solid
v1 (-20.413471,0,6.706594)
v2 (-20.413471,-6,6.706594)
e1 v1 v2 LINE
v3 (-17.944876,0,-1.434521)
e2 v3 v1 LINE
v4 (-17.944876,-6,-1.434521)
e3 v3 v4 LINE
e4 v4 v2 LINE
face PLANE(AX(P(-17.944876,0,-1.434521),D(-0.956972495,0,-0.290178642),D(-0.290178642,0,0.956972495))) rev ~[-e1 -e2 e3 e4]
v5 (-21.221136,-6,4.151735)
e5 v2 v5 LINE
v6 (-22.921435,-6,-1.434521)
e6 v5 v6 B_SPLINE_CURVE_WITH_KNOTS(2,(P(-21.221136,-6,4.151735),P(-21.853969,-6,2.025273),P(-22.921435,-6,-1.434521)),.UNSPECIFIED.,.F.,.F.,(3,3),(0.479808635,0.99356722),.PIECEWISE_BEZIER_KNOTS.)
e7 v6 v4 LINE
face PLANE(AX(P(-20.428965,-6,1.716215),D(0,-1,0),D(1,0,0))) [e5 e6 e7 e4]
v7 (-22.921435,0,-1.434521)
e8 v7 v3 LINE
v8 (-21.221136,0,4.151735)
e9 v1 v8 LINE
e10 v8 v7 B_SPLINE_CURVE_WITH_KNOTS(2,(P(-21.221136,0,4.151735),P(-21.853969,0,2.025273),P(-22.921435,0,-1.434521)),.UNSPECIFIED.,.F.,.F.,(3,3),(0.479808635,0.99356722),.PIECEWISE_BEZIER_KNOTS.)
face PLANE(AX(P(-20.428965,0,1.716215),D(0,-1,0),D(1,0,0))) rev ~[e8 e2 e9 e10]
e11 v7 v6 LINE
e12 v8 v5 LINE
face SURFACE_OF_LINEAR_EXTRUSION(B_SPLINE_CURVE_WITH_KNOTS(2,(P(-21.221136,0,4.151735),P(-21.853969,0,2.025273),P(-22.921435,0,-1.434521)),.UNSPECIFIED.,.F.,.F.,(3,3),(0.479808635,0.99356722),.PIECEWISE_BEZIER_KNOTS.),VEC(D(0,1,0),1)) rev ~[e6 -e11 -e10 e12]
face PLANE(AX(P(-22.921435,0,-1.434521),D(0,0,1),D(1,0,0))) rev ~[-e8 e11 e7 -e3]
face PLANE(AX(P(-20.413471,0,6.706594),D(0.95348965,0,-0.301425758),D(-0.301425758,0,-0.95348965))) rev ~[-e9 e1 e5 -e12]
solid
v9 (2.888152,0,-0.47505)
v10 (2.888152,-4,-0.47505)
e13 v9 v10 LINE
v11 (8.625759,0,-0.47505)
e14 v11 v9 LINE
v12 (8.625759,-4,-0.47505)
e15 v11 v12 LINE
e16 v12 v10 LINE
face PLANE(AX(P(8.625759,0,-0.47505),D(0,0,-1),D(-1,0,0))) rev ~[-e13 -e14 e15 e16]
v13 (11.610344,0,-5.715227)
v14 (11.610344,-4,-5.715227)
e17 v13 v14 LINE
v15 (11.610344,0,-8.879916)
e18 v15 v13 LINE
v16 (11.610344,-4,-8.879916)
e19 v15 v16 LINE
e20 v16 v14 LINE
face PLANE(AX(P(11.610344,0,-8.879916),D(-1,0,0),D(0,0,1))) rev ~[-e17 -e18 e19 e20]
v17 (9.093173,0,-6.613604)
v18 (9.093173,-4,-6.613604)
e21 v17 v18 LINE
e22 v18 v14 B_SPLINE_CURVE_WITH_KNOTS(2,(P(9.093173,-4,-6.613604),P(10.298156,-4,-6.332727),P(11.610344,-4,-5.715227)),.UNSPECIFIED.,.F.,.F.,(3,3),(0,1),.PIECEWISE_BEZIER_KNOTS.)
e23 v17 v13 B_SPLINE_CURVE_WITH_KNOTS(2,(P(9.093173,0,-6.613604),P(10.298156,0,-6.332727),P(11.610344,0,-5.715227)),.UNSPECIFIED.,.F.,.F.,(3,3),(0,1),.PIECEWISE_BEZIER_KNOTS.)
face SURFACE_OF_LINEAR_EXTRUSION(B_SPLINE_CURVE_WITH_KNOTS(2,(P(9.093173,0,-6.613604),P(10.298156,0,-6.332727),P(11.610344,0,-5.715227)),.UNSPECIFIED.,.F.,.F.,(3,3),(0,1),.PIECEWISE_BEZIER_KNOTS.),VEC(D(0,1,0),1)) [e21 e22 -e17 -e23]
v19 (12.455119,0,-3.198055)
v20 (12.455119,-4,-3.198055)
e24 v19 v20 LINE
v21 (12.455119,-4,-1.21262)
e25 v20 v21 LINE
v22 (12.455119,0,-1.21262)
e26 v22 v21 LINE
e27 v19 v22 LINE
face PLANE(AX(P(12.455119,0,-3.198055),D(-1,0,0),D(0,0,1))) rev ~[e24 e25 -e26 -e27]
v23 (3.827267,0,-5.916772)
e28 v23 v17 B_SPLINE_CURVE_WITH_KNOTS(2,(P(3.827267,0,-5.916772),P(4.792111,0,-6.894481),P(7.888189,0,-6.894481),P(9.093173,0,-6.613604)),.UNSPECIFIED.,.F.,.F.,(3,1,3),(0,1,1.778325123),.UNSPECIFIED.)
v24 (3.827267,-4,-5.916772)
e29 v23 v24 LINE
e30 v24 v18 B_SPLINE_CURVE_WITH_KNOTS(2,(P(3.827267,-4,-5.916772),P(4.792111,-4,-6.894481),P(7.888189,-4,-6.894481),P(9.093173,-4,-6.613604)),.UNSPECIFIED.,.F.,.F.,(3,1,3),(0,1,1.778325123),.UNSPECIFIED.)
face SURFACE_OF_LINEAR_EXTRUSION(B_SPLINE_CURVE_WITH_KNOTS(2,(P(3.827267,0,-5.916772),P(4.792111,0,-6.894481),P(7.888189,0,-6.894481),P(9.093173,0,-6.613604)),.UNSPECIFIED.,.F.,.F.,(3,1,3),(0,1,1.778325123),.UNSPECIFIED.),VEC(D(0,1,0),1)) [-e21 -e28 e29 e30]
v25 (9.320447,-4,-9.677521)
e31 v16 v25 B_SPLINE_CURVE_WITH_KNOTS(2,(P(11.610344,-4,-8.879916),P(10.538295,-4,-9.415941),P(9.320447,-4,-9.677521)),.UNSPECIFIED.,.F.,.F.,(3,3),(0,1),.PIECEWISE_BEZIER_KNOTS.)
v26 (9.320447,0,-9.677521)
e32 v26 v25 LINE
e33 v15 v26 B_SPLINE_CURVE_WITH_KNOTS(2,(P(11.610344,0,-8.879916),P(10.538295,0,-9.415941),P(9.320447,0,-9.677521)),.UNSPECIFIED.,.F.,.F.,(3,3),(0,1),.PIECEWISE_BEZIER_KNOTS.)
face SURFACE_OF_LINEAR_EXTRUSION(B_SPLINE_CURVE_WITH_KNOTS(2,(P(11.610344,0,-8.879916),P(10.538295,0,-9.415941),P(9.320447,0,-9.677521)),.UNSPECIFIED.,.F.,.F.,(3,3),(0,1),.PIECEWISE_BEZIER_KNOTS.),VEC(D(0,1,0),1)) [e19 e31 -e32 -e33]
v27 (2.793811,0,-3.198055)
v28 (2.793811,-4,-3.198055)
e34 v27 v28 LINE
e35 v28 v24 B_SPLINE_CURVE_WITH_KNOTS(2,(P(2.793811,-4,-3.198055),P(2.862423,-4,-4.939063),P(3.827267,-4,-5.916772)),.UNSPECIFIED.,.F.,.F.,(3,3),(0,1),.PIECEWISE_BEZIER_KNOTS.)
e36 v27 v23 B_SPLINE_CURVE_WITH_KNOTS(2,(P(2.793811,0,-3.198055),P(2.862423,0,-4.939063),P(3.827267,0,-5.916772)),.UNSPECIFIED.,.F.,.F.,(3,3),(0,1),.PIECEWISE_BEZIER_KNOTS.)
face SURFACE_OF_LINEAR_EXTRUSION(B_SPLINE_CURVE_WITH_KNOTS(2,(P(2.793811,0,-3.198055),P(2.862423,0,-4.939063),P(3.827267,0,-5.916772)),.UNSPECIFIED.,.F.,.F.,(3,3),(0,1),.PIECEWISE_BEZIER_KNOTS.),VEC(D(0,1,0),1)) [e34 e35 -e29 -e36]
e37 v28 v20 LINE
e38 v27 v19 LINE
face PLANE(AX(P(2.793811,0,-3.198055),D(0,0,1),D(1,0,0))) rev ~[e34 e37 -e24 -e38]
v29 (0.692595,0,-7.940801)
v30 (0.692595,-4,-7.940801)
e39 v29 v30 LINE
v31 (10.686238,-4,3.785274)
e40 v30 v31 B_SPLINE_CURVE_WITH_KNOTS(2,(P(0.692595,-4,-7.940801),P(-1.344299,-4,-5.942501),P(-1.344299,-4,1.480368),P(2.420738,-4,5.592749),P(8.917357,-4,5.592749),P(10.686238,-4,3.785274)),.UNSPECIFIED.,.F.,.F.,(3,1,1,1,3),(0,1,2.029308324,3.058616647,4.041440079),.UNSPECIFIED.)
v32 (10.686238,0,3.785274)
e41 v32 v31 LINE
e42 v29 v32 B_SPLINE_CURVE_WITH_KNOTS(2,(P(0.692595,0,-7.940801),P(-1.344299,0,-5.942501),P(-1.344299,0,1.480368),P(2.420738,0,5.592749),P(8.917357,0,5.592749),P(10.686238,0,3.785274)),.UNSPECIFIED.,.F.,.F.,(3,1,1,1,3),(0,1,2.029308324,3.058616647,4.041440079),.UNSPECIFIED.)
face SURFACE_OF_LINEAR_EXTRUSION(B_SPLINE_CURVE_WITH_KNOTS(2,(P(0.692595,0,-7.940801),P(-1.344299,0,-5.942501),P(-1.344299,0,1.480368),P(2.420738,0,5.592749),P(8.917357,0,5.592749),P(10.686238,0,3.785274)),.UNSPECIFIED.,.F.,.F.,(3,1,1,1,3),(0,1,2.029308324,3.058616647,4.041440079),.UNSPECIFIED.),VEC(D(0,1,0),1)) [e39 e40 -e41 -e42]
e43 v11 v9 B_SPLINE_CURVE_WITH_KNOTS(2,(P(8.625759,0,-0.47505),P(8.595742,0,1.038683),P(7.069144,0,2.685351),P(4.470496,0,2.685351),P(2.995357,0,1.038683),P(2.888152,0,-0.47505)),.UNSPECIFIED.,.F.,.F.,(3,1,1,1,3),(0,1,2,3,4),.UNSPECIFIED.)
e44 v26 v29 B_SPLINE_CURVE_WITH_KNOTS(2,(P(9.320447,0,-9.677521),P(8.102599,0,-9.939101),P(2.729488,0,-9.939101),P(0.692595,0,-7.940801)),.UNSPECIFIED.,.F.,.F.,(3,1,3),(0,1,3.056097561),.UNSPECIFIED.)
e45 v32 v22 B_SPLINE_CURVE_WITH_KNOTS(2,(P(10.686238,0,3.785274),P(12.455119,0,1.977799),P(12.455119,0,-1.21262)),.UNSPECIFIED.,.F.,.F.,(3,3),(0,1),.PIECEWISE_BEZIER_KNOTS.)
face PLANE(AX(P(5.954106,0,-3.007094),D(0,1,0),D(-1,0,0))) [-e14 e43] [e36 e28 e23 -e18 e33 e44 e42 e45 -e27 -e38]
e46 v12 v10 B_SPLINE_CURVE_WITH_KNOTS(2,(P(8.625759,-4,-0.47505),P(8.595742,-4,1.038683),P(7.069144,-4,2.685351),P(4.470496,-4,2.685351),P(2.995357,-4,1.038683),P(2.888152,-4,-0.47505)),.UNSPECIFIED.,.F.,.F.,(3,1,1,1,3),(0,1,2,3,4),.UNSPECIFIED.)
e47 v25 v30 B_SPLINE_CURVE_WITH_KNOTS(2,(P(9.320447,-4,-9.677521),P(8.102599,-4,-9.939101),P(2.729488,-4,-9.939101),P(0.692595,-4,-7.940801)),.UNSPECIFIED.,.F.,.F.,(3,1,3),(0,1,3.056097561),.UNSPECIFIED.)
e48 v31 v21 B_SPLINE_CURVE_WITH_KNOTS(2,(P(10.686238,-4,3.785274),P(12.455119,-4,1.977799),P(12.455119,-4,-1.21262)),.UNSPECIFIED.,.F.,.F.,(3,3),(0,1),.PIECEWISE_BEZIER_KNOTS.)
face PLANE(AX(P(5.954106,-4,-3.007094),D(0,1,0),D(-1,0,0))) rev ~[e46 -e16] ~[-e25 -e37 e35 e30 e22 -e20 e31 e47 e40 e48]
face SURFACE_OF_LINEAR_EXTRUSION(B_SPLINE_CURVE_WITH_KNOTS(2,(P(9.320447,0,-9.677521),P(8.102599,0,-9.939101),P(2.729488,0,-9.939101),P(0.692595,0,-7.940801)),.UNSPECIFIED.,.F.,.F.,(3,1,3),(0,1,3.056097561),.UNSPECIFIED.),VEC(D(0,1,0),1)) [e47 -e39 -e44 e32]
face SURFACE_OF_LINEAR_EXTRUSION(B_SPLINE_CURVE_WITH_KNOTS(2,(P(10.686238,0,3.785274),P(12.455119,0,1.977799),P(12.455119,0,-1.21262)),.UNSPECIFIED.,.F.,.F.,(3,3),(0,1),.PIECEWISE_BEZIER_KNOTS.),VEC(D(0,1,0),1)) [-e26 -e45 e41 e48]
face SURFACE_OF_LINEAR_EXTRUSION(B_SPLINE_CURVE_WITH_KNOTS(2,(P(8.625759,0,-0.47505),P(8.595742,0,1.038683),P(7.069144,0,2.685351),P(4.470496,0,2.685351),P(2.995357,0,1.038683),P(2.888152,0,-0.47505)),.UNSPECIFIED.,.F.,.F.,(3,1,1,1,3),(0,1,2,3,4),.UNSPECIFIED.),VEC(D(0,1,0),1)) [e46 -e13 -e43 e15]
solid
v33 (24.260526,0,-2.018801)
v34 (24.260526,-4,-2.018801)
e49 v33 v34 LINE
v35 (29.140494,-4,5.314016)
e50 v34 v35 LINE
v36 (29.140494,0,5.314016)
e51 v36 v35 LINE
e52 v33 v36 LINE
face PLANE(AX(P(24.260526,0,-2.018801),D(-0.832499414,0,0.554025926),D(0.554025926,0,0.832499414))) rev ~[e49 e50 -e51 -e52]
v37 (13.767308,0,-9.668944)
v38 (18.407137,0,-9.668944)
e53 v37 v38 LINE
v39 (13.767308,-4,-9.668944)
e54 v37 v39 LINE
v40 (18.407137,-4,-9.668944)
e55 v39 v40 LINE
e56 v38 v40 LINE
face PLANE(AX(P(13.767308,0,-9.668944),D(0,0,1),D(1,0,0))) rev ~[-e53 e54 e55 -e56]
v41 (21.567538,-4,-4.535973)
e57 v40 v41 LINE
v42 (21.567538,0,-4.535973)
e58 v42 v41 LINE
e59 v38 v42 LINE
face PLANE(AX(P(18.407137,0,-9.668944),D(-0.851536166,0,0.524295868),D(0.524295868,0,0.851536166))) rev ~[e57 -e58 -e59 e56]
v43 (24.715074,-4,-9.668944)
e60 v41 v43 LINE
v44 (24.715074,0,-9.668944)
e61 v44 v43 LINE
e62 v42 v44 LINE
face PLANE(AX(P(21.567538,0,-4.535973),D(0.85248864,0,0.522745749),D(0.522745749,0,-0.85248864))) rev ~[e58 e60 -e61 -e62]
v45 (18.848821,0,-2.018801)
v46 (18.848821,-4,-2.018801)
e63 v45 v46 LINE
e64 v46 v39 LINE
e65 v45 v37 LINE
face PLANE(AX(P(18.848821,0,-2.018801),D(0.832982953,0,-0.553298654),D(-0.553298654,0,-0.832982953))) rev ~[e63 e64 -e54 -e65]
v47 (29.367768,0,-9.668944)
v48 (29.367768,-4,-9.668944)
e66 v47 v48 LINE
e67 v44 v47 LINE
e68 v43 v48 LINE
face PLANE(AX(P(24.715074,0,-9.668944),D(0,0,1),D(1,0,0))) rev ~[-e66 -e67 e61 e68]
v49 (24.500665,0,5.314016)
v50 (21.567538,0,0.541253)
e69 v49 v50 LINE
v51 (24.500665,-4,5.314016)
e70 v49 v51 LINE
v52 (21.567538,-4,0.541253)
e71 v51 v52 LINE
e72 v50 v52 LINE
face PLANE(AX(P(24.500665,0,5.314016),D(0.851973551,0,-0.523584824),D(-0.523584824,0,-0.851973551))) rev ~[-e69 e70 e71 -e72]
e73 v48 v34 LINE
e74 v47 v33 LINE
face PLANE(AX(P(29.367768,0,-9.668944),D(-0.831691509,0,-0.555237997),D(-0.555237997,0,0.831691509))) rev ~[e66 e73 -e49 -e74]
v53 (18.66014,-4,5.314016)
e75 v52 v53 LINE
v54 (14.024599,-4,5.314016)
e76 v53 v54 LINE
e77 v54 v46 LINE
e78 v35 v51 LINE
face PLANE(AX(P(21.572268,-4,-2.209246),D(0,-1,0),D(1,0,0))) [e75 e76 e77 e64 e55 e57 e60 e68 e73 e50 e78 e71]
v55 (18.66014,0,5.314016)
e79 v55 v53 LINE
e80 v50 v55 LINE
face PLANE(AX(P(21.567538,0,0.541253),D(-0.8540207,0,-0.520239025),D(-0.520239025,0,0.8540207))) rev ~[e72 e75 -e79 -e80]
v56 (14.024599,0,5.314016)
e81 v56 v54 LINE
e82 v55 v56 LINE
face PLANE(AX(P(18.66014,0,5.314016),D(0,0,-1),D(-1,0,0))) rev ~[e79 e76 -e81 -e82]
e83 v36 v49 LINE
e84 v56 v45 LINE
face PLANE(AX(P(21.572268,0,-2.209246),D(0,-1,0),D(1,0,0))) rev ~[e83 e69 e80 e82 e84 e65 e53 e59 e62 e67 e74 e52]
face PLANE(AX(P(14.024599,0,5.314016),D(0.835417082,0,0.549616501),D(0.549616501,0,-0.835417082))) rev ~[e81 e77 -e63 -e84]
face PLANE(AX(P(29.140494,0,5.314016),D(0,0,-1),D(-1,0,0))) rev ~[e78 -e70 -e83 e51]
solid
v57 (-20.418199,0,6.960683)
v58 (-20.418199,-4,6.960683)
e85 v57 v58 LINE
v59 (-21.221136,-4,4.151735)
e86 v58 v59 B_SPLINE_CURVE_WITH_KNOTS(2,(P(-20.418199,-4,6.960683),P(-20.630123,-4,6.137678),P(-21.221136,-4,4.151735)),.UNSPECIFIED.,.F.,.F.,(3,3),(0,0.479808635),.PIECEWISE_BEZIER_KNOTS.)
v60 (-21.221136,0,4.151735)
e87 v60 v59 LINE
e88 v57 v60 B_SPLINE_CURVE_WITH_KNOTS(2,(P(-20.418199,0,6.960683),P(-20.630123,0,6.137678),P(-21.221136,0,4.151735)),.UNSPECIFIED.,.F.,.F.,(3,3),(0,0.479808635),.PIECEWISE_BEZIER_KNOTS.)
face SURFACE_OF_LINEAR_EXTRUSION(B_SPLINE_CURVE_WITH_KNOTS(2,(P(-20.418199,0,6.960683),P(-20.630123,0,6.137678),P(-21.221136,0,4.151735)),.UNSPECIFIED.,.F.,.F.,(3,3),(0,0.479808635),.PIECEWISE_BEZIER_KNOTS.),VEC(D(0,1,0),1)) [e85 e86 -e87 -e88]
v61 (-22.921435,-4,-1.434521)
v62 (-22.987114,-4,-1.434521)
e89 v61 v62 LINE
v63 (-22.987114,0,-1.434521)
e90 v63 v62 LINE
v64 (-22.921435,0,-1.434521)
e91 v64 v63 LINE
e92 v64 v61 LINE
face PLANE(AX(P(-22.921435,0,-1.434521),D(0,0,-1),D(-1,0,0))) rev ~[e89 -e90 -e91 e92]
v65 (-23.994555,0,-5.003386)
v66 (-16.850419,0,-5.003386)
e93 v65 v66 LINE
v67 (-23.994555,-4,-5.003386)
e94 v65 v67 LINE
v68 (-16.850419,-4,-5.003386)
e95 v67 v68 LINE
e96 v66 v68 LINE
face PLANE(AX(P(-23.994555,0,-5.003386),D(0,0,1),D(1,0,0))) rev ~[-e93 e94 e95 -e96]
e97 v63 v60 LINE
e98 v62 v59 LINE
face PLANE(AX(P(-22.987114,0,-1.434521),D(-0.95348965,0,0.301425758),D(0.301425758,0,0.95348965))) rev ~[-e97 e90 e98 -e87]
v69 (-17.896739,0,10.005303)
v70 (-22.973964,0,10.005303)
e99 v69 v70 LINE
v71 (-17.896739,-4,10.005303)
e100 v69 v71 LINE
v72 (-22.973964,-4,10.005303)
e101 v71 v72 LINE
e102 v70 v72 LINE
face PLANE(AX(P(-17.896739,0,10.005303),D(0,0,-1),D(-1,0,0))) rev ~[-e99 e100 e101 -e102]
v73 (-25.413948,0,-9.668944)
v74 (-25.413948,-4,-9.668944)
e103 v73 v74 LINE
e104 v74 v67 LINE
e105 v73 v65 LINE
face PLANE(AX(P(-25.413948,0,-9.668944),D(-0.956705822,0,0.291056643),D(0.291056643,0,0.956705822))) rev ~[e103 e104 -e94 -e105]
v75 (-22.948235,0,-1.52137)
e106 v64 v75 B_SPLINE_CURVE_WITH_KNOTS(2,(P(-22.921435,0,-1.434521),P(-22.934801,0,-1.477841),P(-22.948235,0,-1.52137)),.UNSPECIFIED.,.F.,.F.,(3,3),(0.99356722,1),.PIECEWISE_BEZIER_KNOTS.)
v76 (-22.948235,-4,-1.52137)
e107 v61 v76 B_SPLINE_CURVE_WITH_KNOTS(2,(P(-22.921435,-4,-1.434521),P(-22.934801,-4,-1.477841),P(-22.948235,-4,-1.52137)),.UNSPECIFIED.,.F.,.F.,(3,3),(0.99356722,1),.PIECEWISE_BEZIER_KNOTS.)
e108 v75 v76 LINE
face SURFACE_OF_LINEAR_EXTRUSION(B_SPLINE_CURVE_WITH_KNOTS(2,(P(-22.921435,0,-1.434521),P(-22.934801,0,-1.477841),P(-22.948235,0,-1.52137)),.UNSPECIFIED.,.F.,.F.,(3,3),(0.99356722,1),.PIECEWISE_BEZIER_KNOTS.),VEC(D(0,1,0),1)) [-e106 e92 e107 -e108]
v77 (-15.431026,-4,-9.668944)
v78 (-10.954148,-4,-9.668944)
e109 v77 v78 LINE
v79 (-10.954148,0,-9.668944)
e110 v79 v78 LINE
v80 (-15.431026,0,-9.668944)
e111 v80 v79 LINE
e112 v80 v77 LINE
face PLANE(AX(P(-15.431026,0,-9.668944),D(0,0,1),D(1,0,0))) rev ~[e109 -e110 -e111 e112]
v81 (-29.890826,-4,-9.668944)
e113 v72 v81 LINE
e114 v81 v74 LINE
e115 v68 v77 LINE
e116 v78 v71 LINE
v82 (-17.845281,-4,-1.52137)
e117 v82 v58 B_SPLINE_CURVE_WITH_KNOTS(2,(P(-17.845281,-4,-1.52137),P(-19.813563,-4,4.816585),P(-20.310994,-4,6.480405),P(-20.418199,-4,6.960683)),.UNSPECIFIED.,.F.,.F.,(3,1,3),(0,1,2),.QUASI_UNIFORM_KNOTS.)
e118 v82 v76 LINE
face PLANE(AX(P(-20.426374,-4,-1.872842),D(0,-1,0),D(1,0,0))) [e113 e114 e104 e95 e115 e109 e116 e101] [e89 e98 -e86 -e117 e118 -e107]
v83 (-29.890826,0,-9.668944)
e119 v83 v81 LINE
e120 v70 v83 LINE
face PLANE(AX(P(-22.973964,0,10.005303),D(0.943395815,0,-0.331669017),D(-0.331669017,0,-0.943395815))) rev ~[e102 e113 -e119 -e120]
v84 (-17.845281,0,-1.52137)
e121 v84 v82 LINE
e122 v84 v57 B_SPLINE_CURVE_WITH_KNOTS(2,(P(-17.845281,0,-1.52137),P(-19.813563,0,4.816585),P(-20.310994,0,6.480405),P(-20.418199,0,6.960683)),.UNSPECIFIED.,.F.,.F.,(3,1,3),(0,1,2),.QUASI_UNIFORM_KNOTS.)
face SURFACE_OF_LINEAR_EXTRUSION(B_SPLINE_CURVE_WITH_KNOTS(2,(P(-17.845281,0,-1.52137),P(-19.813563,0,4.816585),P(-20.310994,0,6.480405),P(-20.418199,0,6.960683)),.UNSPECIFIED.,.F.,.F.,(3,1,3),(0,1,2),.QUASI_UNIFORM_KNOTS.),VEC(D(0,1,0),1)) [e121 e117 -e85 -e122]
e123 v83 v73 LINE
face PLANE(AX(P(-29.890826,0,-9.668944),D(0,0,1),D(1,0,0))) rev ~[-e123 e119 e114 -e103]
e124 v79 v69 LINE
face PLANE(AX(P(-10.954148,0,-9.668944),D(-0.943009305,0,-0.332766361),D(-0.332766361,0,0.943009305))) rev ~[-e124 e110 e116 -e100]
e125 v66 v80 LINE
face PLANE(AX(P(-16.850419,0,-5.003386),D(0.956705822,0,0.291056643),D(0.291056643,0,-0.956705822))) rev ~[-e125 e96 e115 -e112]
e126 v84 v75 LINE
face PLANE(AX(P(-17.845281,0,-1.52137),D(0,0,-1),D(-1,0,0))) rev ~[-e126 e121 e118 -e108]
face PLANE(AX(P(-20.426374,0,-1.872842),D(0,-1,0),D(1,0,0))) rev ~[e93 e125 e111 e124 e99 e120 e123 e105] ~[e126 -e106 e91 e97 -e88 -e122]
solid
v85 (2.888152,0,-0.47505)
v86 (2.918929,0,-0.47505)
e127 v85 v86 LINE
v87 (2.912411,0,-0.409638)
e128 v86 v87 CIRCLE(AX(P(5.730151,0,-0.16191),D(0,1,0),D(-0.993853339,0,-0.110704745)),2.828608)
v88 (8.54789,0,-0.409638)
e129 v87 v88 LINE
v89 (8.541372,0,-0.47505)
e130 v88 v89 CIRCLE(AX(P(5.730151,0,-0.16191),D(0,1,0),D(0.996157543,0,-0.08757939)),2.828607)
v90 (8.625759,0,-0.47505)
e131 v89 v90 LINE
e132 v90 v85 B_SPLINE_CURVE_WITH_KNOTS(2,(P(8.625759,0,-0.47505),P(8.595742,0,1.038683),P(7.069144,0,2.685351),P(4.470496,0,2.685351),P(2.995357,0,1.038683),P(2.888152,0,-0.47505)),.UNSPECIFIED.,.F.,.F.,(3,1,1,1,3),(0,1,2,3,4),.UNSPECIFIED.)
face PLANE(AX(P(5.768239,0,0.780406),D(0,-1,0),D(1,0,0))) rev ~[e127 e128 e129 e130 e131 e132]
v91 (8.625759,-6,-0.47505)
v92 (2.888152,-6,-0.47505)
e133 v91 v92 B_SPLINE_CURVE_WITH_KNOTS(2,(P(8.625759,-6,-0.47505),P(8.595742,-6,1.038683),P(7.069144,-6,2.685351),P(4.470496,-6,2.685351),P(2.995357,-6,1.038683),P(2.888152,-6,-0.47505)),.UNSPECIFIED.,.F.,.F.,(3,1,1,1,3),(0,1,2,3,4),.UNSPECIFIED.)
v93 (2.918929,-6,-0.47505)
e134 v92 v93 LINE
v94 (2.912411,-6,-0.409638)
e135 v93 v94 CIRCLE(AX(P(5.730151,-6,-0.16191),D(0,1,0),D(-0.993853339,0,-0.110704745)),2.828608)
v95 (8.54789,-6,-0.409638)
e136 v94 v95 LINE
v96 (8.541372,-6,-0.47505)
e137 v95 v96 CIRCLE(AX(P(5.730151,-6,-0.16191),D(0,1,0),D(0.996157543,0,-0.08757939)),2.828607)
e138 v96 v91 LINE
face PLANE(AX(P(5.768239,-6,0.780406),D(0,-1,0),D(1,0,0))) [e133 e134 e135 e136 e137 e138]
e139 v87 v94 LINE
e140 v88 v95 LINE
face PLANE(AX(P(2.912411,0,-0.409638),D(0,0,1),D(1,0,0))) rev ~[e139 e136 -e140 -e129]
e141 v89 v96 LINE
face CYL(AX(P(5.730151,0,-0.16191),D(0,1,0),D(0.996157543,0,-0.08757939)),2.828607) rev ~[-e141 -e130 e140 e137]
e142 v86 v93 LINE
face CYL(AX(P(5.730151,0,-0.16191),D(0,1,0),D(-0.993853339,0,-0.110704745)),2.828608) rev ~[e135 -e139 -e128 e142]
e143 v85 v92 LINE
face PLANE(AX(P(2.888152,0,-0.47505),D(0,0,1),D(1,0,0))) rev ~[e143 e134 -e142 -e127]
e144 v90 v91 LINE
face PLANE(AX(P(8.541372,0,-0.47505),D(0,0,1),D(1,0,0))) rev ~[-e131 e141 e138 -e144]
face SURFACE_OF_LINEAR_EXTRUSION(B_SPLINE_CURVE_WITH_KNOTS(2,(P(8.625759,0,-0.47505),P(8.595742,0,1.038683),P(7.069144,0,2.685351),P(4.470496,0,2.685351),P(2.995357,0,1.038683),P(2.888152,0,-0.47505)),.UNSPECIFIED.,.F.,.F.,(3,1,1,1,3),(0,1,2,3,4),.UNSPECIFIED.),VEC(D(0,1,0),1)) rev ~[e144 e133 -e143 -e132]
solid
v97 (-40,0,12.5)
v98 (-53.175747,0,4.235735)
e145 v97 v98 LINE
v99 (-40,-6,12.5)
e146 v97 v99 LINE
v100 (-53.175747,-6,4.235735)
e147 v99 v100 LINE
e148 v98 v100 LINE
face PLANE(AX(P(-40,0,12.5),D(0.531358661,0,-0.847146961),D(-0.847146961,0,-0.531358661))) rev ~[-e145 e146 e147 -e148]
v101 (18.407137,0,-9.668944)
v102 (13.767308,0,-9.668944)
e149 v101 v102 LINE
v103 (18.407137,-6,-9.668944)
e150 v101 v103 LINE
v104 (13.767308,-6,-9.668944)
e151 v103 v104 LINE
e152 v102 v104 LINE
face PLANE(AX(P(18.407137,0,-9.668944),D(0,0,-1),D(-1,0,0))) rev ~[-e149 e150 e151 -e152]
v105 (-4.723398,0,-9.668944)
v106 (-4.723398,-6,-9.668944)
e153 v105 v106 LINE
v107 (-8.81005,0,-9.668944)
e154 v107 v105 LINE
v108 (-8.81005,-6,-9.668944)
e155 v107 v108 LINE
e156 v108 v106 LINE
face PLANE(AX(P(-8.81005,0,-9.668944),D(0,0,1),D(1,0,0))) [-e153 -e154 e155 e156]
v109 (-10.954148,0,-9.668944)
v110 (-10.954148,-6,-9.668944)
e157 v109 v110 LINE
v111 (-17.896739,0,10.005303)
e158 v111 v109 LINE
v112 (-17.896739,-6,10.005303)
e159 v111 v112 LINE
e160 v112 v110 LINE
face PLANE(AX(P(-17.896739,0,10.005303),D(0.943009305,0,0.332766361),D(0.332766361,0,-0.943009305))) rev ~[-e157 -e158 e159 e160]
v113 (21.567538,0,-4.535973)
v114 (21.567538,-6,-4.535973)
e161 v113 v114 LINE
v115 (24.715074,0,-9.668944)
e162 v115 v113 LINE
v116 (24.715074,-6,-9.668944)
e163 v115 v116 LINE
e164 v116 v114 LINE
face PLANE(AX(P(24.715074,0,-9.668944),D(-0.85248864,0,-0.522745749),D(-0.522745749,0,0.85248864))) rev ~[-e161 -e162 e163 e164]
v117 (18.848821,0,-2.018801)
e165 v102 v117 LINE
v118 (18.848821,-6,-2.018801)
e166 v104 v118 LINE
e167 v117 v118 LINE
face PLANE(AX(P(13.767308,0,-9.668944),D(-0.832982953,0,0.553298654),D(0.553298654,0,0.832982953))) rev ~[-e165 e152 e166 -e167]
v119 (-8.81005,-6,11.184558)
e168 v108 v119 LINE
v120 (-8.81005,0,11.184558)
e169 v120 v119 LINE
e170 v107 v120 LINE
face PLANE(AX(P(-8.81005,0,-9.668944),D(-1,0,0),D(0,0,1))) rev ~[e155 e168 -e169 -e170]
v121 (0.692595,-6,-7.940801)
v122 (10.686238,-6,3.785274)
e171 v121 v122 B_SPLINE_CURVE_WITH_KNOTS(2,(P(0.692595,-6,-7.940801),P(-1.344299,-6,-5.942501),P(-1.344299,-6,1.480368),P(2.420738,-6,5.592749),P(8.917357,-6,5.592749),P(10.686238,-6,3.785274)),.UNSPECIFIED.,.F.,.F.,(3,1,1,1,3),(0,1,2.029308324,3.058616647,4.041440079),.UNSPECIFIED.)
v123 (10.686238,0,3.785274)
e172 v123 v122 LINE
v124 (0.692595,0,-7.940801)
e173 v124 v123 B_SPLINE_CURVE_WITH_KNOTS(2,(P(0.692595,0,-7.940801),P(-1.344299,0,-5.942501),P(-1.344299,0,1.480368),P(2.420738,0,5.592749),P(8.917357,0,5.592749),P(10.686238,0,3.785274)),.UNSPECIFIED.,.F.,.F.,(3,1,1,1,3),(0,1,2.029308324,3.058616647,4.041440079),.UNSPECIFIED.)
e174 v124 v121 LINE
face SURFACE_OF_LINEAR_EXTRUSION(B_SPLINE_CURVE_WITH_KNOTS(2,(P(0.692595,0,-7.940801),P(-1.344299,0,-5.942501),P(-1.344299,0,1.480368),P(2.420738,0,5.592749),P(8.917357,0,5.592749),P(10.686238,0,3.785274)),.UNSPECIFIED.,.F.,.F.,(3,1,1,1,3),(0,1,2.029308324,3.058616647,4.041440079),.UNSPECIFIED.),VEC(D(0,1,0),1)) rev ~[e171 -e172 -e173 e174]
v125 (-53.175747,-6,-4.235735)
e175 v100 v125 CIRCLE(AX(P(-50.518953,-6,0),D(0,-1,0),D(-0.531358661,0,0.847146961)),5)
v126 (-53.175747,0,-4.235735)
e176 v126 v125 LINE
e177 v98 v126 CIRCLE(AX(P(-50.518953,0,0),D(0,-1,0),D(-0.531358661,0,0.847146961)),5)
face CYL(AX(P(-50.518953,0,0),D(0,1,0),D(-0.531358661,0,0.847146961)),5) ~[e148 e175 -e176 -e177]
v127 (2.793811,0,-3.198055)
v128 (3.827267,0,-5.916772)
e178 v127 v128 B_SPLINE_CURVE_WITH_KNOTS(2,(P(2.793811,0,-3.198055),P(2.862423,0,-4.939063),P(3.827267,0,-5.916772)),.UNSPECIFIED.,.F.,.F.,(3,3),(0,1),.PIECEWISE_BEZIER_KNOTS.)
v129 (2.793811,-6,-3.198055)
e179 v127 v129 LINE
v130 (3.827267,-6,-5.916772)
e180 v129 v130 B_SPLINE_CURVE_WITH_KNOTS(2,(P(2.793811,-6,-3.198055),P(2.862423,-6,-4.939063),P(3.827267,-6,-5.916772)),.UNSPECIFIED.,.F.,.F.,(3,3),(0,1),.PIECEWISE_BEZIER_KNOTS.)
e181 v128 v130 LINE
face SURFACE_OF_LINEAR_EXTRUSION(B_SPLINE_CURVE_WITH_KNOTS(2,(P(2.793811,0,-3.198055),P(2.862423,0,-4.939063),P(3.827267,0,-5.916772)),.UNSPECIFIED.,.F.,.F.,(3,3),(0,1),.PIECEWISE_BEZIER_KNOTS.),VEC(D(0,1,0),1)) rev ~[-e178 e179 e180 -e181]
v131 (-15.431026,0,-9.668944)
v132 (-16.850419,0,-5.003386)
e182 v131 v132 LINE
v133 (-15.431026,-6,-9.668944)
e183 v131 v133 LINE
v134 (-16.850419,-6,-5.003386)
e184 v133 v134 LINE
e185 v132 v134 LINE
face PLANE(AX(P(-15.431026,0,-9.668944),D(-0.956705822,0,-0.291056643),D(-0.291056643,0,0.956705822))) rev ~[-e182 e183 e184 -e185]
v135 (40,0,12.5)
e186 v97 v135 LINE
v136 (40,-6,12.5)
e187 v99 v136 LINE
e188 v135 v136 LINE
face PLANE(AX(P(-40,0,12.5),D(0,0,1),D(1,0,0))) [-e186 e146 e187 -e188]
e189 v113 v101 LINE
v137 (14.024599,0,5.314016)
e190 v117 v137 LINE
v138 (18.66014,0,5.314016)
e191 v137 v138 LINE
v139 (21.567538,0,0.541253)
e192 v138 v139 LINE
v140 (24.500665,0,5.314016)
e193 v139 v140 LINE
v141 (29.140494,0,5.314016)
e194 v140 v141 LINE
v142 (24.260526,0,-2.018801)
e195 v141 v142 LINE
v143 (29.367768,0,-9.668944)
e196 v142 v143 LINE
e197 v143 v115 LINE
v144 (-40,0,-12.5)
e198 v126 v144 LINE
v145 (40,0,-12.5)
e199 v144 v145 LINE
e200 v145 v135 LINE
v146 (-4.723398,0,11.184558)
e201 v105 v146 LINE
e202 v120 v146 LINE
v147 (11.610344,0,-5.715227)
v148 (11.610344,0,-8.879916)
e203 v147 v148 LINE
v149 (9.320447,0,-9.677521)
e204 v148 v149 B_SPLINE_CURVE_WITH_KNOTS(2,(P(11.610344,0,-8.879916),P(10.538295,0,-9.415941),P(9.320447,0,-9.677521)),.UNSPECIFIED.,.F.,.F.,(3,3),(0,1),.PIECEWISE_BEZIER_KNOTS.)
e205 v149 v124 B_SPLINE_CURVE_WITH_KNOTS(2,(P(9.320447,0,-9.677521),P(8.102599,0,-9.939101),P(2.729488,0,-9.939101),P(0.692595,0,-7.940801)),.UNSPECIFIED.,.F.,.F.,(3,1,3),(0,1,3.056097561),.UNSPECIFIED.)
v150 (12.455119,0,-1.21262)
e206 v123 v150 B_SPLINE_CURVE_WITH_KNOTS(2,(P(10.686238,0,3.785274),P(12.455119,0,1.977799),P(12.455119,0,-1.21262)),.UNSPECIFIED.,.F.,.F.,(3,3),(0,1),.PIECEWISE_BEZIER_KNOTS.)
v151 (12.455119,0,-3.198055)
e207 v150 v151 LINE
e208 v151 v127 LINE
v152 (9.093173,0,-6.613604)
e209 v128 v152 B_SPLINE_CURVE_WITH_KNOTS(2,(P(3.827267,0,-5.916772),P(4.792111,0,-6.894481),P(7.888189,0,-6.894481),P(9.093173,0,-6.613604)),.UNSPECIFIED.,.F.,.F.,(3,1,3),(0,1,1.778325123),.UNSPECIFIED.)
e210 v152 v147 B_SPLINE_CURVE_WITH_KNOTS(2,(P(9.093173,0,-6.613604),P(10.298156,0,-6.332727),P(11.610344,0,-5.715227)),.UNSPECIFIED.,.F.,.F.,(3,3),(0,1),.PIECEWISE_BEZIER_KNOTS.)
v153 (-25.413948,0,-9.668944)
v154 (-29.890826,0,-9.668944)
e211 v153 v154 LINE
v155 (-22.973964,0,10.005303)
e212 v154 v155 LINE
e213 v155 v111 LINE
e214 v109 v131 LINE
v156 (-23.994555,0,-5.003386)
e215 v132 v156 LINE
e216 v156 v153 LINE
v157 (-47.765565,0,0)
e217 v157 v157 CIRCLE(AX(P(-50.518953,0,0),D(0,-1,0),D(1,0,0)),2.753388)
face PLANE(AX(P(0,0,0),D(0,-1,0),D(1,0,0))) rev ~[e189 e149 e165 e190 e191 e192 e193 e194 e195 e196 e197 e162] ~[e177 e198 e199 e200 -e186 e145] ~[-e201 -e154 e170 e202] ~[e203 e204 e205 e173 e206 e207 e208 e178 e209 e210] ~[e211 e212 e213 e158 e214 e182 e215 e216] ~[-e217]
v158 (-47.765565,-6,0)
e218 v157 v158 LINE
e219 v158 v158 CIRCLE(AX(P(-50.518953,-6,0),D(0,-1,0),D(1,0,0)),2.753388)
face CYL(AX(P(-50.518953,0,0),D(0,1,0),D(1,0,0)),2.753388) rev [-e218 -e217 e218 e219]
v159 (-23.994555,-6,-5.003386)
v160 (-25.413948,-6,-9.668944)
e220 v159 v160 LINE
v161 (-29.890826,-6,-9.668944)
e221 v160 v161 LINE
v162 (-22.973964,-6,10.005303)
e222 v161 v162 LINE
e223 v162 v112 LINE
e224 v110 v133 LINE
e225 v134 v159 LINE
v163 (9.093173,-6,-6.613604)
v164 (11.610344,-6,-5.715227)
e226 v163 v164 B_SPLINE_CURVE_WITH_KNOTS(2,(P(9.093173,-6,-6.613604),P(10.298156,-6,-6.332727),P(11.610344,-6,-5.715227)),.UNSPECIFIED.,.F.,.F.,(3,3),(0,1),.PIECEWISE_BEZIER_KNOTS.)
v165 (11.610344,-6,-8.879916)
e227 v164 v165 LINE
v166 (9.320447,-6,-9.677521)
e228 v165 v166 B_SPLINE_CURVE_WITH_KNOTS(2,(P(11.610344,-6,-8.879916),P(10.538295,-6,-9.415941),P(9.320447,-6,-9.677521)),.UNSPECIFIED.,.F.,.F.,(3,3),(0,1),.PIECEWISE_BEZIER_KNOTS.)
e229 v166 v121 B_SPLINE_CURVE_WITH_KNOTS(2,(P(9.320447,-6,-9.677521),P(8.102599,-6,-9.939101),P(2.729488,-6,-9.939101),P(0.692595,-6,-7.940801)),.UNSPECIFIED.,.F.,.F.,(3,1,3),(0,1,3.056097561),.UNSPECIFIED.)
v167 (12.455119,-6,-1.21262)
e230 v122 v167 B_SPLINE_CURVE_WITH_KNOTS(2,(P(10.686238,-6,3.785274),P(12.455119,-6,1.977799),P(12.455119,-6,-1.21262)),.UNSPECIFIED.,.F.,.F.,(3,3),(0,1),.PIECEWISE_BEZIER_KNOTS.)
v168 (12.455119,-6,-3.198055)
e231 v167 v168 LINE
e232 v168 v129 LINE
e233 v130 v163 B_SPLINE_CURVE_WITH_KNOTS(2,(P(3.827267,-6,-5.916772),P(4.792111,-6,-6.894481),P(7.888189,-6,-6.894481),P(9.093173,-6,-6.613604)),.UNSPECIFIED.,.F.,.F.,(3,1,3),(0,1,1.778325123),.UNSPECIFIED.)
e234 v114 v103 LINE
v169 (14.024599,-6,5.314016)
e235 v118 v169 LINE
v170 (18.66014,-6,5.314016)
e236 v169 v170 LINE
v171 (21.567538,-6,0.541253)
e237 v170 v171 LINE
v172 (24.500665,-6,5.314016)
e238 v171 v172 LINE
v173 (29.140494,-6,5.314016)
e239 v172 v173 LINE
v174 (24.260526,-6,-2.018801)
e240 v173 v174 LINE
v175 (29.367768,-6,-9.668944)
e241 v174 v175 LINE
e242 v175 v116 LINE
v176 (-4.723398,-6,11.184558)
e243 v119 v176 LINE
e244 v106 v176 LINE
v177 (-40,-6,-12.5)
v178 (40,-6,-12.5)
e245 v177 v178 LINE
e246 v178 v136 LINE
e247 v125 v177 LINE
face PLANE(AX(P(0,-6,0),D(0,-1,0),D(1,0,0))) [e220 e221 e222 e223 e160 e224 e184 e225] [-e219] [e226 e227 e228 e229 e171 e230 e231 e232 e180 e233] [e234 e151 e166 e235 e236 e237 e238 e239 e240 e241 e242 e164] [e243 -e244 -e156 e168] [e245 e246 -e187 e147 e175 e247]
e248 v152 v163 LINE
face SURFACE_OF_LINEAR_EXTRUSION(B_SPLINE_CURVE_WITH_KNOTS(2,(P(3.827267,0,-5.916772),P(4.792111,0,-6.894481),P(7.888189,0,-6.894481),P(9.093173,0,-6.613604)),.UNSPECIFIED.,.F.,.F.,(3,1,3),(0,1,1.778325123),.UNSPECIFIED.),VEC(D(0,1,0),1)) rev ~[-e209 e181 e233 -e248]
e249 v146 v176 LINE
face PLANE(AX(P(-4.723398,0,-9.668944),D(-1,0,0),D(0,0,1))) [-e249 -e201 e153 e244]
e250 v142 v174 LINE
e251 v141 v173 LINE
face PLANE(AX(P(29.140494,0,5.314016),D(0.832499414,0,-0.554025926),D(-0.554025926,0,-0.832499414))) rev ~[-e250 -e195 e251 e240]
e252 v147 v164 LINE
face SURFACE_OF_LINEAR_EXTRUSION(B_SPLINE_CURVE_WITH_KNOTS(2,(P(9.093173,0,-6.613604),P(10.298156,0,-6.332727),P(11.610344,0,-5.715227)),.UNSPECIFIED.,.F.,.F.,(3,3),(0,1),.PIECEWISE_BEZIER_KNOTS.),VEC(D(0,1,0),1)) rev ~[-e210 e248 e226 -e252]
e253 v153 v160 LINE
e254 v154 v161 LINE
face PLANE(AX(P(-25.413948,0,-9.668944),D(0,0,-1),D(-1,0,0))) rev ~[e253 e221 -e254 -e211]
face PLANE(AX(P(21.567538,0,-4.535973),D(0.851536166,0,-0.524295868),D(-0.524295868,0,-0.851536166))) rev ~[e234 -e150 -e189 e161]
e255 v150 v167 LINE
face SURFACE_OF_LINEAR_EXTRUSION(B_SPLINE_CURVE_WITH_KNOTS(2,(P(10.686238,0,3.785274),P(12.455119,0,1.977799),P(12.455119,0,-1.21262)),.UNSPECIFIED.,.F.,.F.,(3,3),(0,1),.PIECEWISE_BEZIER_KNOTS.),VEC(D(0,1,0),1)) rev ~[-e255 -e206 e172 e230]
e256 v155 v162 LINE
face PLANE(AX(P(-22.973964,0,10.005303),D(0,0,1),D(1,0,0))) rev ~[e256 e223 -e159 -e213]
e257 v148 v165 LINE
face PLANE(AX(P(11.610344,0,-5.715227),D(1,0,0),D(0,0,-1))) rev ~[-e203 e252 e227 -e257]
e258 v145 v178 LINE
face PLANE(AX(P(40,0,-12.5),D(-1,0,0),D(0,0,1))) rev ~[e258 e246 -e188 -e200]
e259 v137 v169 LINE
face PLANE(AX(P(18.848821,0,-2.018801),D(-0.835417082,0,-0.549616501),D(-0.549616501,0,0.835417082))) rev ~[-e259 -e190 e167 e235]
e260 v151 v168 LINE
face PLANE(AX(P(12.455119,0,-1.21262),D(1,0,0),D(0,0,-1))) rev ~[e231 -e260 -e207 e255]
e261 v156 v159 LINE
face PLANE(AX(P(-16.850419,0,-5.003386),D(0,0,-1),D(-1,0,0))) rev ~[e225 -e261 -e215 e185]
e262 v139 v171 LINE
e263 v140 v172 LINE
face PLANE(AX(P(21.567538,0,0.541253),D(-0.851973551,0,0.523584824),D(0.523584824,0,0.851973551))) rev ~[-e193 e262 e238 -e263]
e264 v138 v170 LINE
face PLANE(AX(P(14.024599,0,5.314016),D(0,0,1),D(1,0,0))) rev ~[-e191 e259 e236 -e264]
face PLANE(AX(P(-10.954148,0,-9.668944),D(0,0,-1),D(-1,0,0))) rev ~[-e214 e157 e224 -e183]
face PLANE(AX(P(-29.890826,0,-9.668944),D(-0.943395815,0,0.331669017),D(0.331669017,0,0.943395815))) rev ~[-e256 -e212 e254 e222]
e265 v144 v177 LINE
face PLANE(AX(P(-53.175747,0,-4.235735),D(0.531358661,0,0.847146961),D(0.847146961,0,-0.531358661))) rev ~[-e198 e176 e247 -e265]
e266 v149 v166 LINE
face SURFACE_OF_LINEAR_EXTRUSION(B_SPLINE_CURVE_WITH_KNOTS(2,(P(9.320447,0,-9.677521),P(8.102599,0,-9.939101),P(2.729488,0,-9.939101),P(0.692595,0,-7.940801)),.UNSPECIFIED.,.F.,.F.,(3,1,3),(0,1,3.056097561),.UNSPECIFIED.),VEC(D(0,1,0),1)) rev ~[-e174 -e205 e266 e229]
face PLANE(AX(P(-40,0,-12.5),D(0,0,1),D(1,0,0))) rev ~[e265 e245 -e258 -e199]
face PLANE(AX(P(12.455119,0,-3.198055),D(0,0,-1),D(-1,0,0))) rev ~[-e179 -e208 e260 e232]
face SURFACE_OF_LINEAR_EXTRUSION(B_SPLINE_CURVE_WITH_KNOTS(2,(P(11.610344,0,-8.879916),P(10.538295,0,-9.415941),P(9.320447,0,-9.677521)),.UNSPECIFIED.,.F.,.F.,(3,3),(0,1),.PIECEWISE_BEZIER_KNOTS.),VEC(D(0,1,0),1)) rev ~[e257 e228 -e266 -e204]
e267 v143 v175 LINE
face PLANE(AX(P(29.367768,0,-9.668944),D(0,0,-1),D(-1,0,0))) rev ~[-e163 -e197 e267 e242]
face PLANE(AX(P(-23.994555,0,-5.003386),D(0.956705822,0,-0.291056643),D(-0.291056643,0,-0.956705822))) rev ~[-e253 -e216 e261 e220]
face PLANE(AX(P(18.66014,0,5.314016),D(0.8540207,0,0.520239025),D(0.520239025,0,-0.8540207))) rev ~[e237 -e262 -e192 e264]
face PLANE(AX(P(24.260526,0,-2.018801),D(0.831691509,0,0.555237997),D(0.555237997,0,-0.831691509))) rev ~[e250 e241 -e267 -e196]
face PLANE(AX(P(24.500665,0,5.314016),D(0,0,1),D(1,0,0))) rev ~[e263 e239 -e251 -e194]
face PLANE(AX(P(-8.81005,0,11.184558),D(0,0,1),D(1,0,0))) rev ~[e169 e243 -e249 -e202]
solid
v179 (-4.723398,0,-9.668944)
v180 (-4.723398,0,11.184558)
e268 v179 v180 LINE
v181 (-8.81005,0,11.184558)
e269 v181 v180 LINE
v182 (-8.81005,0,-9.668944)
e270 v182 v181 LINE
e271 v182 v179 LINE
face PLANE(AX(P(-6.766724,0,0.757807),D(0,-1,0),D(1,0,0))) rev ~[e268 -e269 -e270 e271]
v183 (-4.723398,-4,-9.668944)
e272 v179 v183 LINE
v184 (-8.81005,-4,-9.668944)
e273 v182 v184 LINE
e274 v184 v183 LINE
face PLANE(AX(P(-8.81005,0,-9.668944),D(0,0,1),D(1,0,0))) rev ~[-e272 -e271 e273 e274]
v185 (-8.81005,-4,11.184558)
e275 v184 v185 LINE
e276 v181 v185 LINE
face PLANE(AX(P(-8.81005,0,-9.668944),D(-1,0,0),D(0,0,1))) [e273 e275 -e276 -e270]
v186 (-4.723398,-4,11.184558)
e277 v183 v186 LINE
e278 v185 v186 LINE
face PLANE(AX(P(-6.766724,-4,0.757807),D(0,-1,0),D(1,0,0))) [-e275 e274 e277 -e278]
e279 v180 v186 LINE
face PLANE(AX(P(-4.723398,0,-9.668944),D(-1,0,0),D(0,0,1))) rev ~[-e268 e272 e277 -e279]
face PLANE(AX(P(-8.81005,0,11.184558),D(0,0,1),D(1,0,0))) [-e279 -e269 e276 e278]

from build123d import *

# Parameters (mm, degrees)
F0_W     = 4.0866517243
F0_H     = 20.8535019259
F1_DEPTH = 4
F0_W_2   = 80
F0_H_2   = 25
F0_R     = 2.753388348
F2_DEPTH = 6


with BuildPart() as f1:
    # F0 (on Front) → F1 (new body)
    with BuildSketch(Plane.XZ):
        Polygon((-16.8504189482, -5.0033860866), (-15.431025747, -9.6689444035), (-10.9541480973, -9.6689444035), (-17.8967390119, 10.0053033521), (-22.9739642392, 10.0053033521), (-29.890825972, -9.6689444035), (-25.4139483222, -9.6689444035), (-23.994555121, -5.0033860866), align=None)
        with BuildLine():
            Line((-22.9214353789, -1.4345208183), (-22.9871142656, -1.4345208183))
            Line((-22.9871142656, -1.4345208183), (-21.2211364833, 4.1517354839))
            add(Edge.make_bspline(
                [(-20.4181988376, 6.9606834946), (-20.6301227734, 6.137677919), (-21.2211364833, 4.1517354839)],
                knots=[0, 0, 0, 0.4798086346, 0.4798086346, 0.4798086346], degree=2))
            add(Edge.make_bspline(
                [(-20.0622784881, 5.6484952179), (-20.3109939131, 6.4804054325), (-20.4181988376, 6.9606834946)],
                knots=[0, 0, 0, 1, 1, 1], degree=2))
            add(Edge.make_bspline(
                [(-17.8452806481, -1.5213701368), (-19.8135630631, 4.8165850033), (-20.0622784881, 5.6484952179)],
                knots=[0, 0, 0, 1, 1, 1], degree=2))
            Line((-17.8452806481, -1.5213701368), (-22.9482350573, -1.5213701368))
            add(Edge.make_bspline(
                [(-22.9214353789, -1.4345208183), (-22.934801148, -1.4778409604), (-22.9482350573, -1.5213701368)],
                knots=[0.9935672196, 0.9935672196, 0.9935672196, 1, 1, 1], degree=2))
        make_face(mode=Mode.SUBTRACT)
        with Locations((-6.7667237439, 0.7578065594)):
            Rectangle(F0_W, F0_H)
        with BuildLine():
            add(Edge.make_bspline(
                [(6.3444385301, -9.9391008134), (2.7294884739, -9.9391008134), (0.6925949072, -7.9408010196)],
                knots=[0, 0, 0, 1, 1, 1], degree=2))
            add(Edge.make_bspline(
                [(9.320447236, -9.6775207975), (8.1025992929, -9.9391008134), (6.3444385301, -9.9391008134)],
                knots=[0, 0, 0, 1, 1, 1], degree=2))
            add(Edge.make_bspline(
                [(11.6103444246, -8.8799161588), (10.538295179, -9.4159407816), (9.320447236, -9.6775207975)],
                knots=[0, 0, 0, 1, 1, 1], degree=2))
            Line((11.6103444246, -8.8799161588), (11.6103444246, -5.7152267857))
            add(Edge.make_bspline(
                [(9.0931727959, -6.6136040535), (10.298156148, -6.3327271512), (11.6103444246, -5.7152267857)],
                knots=[0, 0, 0, 1, 1, 1], degree=2))
            add(Edge.make_bspline(
                [(6.5331191973, -6.8944809559), (7.8881894438, -6.8944809559), (9.0931727959, -6.6136040535)],
                knots=[0, 0, 0, 1, 1, 1], degree=2))
            add(Edge.make_bspline(
                [(3.8272669014, -5.9167720438), (4.7921112224, -6.8944809559), (6.5331191973, -6.8944809559)],
                knots=[0, 0, 0, 1, 1, 1], degree=2))
            add(Edge.make_bspline(
                [(2.7938114286, -3.1980551569), (2.8624225803, -4.9390631318), (3.8272669014, -5.9167720438)],
                knots=[0, 0, 0, 1, 1, 1], degree=2))
            Line((2.7938114286, -3.1980551569), (12.4551192302, -3.1980551569))
            Line((12.4551192302, -3.1980551569), (12.4551192302, -1.2126199541))
            add(Edge.make_bspline(
                [(10.6862379749, 3.785273629), (12.4551192302, 1.9777986009), (12.4551192302, -1.2126199541)],
                knots=[0, 0, 0, 1, 1, 1], degree=2))
            add(Edge.make_bspline(
                [(5.7440909526, 5.5927486572), (8.9173567196, 5.5927486572), (10.6862379749, 3.785273629)],
                knots=[0, 0, 0, 1, 1, 1], degree=2))
            add(Edge.make_bspline(
                [(0.5382198158, 3.5365582041), (2.4207382911, 5.5927486572), (5.7440909526, 5.5927486572)],
                knots=[0, 0, 0, 1, 1, 1], degree=2))
            add(Edge.make_bspline(
                [(-1.3442986595, -2.2846691997), (-1.3442986595, 1.480367751), (0.5382198158, 3.5365582041)],
                knots=[0, 0, 0, 1, 1, 1], degree=2))
            add(Edge.make_bspline(
                [(0.6925949072, -7.9408010196), (-1.3442986595, -5.9425012257), (-1.3442986595, -2.2846691997)],
                knots=[0, 0, 0, 1, 1, 1], degree=2))
        make_face()
        with BuildLine():
            ThreePointArc((8.5413720325, -0.4750500731), (5.7301505938, -2.9905176858), (2.9189291551, -0.4750500731))
            Line((2.9189291551, -0.4750500731), (2.8881517622, -0.4750500731))
            add(Edge.make_bspline(
                [(3.7329265678, 1.8620172824), (2.9953566868, 1.0386834618), (2.8881517622, -0.4750500731)],
                knots=[0, 0, 0, 1, 1, 1], degree=2))
            add(Edge.make_bspline(
                [(5.7698201344, 2.685351103), (4.4704964488, 2.685351103), (3.7329265678, 1.8620172824)],
                knots=[0, 0, 0, 1, 1, 1], degree=2))
            add(Edge.make_bspline(
                [(7.832442883, 1.8620172824), (7.0691438201, 2.685351103), (5.7698201344, 2.685351103)],
                knots=[0, 0, 0, 1, 1, 1], degree=2))
            add(Edge.make_bspline(
                [(8.6257593248, -0.4750500731), (8.5957419459, 1.0386834618), (7.832442883, 1.8620172824)],
                knots=[0, 0, 0, 1, 1, 1], degree=2))
            Line((8.6257593248, -0.4750500731), (8.5413720325, -0.4750500731))
        make_face(mode=Mode.SUBTRACT)
        Polygon((14.0245993257, 5.3140158533), (18.848820931, -2.0188009868), (13.7673075068, -9.6689444035), (18.4071366419, -9.6689444035), (21.5675378179, -4.5359726155), (24.7150744031, -9.6689444035), (29.3677681291, -9.6689444035), (24.260525523, -2.0188009868), (29.140493689, 5.3140158533), (24.500664554, 5.3140158533), (21.5675378179, 0.5412526118), (18.6601402638, 5.3140158533), align=None)
        with BuildLine():
            Line((8.5413720325, -0.4750500731), (2.9189291551, -0.4750500731))
            ThreePointArc((2.9189291551, -0.4750500731), (5.7301505938, -2.9905176858), (8.5413720325, -0.4750500731))
        make_face()
    extrude(amount=F1_DEPTH)


with BuildPart() as f2:
    # F0 (on Front) → F2 (new body)
    with BuildSketch(Plane.XZ):
        Rectangle(F0_W_2, F0_H_2)
        with BuildLine():
            add(Edge.make_bspline(
                [(9.320447236, -9.6775207975), (8.1025992929, -9.9391008134), (6.3444385301, -9.9391008134)],
                knots=[0, 0, 0, 1, 1, 1], degree=2))
            add(Edge.make_bspline(
                [(6.3444385301, -9.9391008134), (2.7294884739, -9.9391008134), (0.6925949072, -7.9408010196)],
                knots=[0, 0, 0, 1, 1, 1], degree=2))
            add(Edge.make_bspline(
                [(0.6925949072, -7.9408010196), (-1.3442986595, -5.9425012257), (-1.3442986595, -2.2846691997)],
                knots=[0, 0, 0, 1, 1, 1], degree=2))
            add(Edge.make_bspline(
                [(-1.3442986595, -2.2846691997), (-1.3442986595, 1.480367751), (0.5382198158, 3.5365582041)],
                knots=[0, 0, 0, 1, 1, 1], degree=2))
            add(Edge.make_bspline(
                [(0.5382198158, 3.5365582041), (2.4207382911, 5.5927486572), (5.7440909526, 5.5927486572)],
                knots=[0, 0, 0, 1, 1, 1], degree=2))
            add(Edge.make_bspline(
                [(5.7440909526, 5.5927486572), (8.9173567196, 5.5927486572), (10.6862379749, 3.785273629)],
                knots=[0, 0, 0, 1, 1, 1], degree=2))
            add(Edge.make_bspline(
                [(10.6862379749, 3.785273629), (12.4551192302, 1.9777986009), (12.4551192302, -1.2126199541)],
                knots=[0, 0, 0, 1, 1, 1], degree=2))
            Line((12.4551192302, -1.2126199541), (12.4551192302, -3.1980551569))
            Line((12.4551192302, -3.1980551569), (2.7938114286, -3.1980551569))
            add(Edge.make_bspline(
                [(2.7938114286, -3.1980551569), (2.8624225803, -4.9390631318), (3.8272669014, -5.9167720438)],
                knots=[0, 0, 0, 1, 1, 1], degree=2))
            add(Edge.make_bspline(
                [(3.8272669014, -5.9167720438), (4.7921112224, -6.8944809559), (6.5331191973, -6.8944809559)],
                knots=[0, 0, 0, 1, 1, 1], degree=2))
            add(Edge.make_bspline(
                [(6.5331191973, -6.8944809559), (7.8881894438, -6.8944809559), (9.0931727959, -6.6136040535)],
                knots=[0, 0, 0, 1, 1, 1], degree=2))
            add(Edge.make_bspline(
                [(9.0931727959, -6.6136040535), (10.298156148, -6.3327271512), (11.6103444246, -5.7152267857)],
                knots=[0, 0, 0, 1, 1, 1], degree=2))
            Line((11.6103444246, -5.7152267857), (11.6103444246, -8.8799161588))
            add(Edge.make_bspline(
                [(11.6103444246, -8.8799161588), (10.538295179, -9.4159407816), (9.320447236, -9.6775207975)],
                knots=[0, 0, 0, 1, 1, 1], degree=2))
        make_face(mode=Mode.SUBTRACT)
        Polygon((13.7673075068, -9.6689444035), (18.848820931, -2.0188009868), (14.0245993257, 5.3140158533), (18.6601402638, 5.3140158533), (21.5675378179, 0.5412526118), (24.500664554, 5.3140158533), (29.140493689, 5.3140158533), (24.260525523, -2.0188009868), (29.3677681291, -9.6689444035), (24.7150744031, -9.6689444035), (21.5675378179, -4.5359726155), (18.4071366419, -9.6689444035), align=None, mode=Mode.SUBTRACT)
        Polygon((-10.9541480973, -9.6689444035), (-15.431025747, -9.6689444035), (-16.8504189482, -5.0033860866), (-23.994555121, -5.0033860866), (-25.4139483222, -9.6689444035), (-29.890825972, -9.6689444035), (-22.9739642392, 10.0053033521), (-17.8967390119, 10.0053033521), align=None, mode=Mode.SUBTRACT)
        with Locations((-6.7667237439, 0.7578065594)):
            Rectangle(F0_W, F0_H, mode=Mode.SUBTRACT)
        with BuildLine():
            Line((-53.1757467349, -4.2357348042), (-40, -12.5))
            Line((-40, -12.5), (-40, 12.5))
            Line((-40, 12.5), (-53.1757467349, 4.2357348042))
            ThreePointArc((-53.1757467349, 4.2357348042), (-55.5189534294, 0), (-53.1757467349, -4.2357348042))
        make_face()
        with Locations((-50.5189534294, 0)):
            Circle(F0_R, mode=Mode.SUBTRACT)
    extrude(amount=F2_DEPTH)


with BuildPart() as f2b:
    # F0 (on Front) → F2, piece 2 (new body)
    with BuildSketch(Plane.XZ):
        with BuildLine():
            Line((-20.4134713858, 6.7065944895), (-21.2211364833, 4.1517354839))
            add(Edge.make_bspline(
                [(-21.2211364833, 4.1517354839), (-21.8539687116, 2.0252731781), (-22.9214353789, -1.4345208183)],
                knots=[0.4798086346, 0.4798086346, 0.4798086346, 0.9935672196, 0.9935672196, 0.9935672196], degree=2))
            Line((-22.9214353789, -1.4345208183), (-17.9448761046, -1.4345208183))
            Line((-17.9448761046, -1.4345208183), (-20.4134713858, 6.7065944895))
        make_face()
    extrude(amount=F2_DEPTH)


with BuildPart() as f2c:
    # F0 (on Front) → F2, piece 3 (new body)
    with BuildSketch(Plane.XZ):
        with BuildLine():
            ThreePointArc((2.9189291551, -0.4750500731), (2.9154802819, -0.4423627308), (2.9124114662, -0.4096375196))
            Line((2.9124114662, -0.4096375196), (8.5478897213, -0.4096375196))
            ThreePointArc((8.5478897213, -0.4096375196), (8.5448209057, -0.4423627308), (8.5413720325, -0.4750500731))
            Line((8.5413720325, -0.4750500731), (8.6257593248, -0.4750500731))
            add(Edge.make_bspline(
                [(8.6257593248, -0.4750500731), (8.5957419459, 1.0386834618), (7.832442883, 1.8620172824)],
                knots=[0, 0, 0, 1, 1, 1], degree=2))
            add(Edge.make_bspline(
                [(7.832442883, 1.8620172824), (7.0691438201, 2.685351103), (5.7698201344, 2.685351103)],
                knots=[0, 0, 0, 1, 1, 1], degree=2))
            add(Edge.make_bspline(
                [(5.7698201344, 2.685351103), (4.4704964488, 2.685351103), (3.7329265678, 1.8620172824)],
                knots=[0, 0, 0, 1, 1, 1], degree=2))
            add(Edge.make_bspline(
                [(3.7329265678, 1.8620172824), (2.9953566868, 1.0386834618), (2.8881517622, -0.4750500731)],
                knots=[0, 0, 0, 1, 1, 1], degree=2))
            Line((2.8881517622, -0.4750500731), (2.9189291551, -0.4750500731))
        make_face()
    extrude(amount=F2_DEPTH)


solid = Compound([f1.part, f2.part, f2b.part, f2c.part])
